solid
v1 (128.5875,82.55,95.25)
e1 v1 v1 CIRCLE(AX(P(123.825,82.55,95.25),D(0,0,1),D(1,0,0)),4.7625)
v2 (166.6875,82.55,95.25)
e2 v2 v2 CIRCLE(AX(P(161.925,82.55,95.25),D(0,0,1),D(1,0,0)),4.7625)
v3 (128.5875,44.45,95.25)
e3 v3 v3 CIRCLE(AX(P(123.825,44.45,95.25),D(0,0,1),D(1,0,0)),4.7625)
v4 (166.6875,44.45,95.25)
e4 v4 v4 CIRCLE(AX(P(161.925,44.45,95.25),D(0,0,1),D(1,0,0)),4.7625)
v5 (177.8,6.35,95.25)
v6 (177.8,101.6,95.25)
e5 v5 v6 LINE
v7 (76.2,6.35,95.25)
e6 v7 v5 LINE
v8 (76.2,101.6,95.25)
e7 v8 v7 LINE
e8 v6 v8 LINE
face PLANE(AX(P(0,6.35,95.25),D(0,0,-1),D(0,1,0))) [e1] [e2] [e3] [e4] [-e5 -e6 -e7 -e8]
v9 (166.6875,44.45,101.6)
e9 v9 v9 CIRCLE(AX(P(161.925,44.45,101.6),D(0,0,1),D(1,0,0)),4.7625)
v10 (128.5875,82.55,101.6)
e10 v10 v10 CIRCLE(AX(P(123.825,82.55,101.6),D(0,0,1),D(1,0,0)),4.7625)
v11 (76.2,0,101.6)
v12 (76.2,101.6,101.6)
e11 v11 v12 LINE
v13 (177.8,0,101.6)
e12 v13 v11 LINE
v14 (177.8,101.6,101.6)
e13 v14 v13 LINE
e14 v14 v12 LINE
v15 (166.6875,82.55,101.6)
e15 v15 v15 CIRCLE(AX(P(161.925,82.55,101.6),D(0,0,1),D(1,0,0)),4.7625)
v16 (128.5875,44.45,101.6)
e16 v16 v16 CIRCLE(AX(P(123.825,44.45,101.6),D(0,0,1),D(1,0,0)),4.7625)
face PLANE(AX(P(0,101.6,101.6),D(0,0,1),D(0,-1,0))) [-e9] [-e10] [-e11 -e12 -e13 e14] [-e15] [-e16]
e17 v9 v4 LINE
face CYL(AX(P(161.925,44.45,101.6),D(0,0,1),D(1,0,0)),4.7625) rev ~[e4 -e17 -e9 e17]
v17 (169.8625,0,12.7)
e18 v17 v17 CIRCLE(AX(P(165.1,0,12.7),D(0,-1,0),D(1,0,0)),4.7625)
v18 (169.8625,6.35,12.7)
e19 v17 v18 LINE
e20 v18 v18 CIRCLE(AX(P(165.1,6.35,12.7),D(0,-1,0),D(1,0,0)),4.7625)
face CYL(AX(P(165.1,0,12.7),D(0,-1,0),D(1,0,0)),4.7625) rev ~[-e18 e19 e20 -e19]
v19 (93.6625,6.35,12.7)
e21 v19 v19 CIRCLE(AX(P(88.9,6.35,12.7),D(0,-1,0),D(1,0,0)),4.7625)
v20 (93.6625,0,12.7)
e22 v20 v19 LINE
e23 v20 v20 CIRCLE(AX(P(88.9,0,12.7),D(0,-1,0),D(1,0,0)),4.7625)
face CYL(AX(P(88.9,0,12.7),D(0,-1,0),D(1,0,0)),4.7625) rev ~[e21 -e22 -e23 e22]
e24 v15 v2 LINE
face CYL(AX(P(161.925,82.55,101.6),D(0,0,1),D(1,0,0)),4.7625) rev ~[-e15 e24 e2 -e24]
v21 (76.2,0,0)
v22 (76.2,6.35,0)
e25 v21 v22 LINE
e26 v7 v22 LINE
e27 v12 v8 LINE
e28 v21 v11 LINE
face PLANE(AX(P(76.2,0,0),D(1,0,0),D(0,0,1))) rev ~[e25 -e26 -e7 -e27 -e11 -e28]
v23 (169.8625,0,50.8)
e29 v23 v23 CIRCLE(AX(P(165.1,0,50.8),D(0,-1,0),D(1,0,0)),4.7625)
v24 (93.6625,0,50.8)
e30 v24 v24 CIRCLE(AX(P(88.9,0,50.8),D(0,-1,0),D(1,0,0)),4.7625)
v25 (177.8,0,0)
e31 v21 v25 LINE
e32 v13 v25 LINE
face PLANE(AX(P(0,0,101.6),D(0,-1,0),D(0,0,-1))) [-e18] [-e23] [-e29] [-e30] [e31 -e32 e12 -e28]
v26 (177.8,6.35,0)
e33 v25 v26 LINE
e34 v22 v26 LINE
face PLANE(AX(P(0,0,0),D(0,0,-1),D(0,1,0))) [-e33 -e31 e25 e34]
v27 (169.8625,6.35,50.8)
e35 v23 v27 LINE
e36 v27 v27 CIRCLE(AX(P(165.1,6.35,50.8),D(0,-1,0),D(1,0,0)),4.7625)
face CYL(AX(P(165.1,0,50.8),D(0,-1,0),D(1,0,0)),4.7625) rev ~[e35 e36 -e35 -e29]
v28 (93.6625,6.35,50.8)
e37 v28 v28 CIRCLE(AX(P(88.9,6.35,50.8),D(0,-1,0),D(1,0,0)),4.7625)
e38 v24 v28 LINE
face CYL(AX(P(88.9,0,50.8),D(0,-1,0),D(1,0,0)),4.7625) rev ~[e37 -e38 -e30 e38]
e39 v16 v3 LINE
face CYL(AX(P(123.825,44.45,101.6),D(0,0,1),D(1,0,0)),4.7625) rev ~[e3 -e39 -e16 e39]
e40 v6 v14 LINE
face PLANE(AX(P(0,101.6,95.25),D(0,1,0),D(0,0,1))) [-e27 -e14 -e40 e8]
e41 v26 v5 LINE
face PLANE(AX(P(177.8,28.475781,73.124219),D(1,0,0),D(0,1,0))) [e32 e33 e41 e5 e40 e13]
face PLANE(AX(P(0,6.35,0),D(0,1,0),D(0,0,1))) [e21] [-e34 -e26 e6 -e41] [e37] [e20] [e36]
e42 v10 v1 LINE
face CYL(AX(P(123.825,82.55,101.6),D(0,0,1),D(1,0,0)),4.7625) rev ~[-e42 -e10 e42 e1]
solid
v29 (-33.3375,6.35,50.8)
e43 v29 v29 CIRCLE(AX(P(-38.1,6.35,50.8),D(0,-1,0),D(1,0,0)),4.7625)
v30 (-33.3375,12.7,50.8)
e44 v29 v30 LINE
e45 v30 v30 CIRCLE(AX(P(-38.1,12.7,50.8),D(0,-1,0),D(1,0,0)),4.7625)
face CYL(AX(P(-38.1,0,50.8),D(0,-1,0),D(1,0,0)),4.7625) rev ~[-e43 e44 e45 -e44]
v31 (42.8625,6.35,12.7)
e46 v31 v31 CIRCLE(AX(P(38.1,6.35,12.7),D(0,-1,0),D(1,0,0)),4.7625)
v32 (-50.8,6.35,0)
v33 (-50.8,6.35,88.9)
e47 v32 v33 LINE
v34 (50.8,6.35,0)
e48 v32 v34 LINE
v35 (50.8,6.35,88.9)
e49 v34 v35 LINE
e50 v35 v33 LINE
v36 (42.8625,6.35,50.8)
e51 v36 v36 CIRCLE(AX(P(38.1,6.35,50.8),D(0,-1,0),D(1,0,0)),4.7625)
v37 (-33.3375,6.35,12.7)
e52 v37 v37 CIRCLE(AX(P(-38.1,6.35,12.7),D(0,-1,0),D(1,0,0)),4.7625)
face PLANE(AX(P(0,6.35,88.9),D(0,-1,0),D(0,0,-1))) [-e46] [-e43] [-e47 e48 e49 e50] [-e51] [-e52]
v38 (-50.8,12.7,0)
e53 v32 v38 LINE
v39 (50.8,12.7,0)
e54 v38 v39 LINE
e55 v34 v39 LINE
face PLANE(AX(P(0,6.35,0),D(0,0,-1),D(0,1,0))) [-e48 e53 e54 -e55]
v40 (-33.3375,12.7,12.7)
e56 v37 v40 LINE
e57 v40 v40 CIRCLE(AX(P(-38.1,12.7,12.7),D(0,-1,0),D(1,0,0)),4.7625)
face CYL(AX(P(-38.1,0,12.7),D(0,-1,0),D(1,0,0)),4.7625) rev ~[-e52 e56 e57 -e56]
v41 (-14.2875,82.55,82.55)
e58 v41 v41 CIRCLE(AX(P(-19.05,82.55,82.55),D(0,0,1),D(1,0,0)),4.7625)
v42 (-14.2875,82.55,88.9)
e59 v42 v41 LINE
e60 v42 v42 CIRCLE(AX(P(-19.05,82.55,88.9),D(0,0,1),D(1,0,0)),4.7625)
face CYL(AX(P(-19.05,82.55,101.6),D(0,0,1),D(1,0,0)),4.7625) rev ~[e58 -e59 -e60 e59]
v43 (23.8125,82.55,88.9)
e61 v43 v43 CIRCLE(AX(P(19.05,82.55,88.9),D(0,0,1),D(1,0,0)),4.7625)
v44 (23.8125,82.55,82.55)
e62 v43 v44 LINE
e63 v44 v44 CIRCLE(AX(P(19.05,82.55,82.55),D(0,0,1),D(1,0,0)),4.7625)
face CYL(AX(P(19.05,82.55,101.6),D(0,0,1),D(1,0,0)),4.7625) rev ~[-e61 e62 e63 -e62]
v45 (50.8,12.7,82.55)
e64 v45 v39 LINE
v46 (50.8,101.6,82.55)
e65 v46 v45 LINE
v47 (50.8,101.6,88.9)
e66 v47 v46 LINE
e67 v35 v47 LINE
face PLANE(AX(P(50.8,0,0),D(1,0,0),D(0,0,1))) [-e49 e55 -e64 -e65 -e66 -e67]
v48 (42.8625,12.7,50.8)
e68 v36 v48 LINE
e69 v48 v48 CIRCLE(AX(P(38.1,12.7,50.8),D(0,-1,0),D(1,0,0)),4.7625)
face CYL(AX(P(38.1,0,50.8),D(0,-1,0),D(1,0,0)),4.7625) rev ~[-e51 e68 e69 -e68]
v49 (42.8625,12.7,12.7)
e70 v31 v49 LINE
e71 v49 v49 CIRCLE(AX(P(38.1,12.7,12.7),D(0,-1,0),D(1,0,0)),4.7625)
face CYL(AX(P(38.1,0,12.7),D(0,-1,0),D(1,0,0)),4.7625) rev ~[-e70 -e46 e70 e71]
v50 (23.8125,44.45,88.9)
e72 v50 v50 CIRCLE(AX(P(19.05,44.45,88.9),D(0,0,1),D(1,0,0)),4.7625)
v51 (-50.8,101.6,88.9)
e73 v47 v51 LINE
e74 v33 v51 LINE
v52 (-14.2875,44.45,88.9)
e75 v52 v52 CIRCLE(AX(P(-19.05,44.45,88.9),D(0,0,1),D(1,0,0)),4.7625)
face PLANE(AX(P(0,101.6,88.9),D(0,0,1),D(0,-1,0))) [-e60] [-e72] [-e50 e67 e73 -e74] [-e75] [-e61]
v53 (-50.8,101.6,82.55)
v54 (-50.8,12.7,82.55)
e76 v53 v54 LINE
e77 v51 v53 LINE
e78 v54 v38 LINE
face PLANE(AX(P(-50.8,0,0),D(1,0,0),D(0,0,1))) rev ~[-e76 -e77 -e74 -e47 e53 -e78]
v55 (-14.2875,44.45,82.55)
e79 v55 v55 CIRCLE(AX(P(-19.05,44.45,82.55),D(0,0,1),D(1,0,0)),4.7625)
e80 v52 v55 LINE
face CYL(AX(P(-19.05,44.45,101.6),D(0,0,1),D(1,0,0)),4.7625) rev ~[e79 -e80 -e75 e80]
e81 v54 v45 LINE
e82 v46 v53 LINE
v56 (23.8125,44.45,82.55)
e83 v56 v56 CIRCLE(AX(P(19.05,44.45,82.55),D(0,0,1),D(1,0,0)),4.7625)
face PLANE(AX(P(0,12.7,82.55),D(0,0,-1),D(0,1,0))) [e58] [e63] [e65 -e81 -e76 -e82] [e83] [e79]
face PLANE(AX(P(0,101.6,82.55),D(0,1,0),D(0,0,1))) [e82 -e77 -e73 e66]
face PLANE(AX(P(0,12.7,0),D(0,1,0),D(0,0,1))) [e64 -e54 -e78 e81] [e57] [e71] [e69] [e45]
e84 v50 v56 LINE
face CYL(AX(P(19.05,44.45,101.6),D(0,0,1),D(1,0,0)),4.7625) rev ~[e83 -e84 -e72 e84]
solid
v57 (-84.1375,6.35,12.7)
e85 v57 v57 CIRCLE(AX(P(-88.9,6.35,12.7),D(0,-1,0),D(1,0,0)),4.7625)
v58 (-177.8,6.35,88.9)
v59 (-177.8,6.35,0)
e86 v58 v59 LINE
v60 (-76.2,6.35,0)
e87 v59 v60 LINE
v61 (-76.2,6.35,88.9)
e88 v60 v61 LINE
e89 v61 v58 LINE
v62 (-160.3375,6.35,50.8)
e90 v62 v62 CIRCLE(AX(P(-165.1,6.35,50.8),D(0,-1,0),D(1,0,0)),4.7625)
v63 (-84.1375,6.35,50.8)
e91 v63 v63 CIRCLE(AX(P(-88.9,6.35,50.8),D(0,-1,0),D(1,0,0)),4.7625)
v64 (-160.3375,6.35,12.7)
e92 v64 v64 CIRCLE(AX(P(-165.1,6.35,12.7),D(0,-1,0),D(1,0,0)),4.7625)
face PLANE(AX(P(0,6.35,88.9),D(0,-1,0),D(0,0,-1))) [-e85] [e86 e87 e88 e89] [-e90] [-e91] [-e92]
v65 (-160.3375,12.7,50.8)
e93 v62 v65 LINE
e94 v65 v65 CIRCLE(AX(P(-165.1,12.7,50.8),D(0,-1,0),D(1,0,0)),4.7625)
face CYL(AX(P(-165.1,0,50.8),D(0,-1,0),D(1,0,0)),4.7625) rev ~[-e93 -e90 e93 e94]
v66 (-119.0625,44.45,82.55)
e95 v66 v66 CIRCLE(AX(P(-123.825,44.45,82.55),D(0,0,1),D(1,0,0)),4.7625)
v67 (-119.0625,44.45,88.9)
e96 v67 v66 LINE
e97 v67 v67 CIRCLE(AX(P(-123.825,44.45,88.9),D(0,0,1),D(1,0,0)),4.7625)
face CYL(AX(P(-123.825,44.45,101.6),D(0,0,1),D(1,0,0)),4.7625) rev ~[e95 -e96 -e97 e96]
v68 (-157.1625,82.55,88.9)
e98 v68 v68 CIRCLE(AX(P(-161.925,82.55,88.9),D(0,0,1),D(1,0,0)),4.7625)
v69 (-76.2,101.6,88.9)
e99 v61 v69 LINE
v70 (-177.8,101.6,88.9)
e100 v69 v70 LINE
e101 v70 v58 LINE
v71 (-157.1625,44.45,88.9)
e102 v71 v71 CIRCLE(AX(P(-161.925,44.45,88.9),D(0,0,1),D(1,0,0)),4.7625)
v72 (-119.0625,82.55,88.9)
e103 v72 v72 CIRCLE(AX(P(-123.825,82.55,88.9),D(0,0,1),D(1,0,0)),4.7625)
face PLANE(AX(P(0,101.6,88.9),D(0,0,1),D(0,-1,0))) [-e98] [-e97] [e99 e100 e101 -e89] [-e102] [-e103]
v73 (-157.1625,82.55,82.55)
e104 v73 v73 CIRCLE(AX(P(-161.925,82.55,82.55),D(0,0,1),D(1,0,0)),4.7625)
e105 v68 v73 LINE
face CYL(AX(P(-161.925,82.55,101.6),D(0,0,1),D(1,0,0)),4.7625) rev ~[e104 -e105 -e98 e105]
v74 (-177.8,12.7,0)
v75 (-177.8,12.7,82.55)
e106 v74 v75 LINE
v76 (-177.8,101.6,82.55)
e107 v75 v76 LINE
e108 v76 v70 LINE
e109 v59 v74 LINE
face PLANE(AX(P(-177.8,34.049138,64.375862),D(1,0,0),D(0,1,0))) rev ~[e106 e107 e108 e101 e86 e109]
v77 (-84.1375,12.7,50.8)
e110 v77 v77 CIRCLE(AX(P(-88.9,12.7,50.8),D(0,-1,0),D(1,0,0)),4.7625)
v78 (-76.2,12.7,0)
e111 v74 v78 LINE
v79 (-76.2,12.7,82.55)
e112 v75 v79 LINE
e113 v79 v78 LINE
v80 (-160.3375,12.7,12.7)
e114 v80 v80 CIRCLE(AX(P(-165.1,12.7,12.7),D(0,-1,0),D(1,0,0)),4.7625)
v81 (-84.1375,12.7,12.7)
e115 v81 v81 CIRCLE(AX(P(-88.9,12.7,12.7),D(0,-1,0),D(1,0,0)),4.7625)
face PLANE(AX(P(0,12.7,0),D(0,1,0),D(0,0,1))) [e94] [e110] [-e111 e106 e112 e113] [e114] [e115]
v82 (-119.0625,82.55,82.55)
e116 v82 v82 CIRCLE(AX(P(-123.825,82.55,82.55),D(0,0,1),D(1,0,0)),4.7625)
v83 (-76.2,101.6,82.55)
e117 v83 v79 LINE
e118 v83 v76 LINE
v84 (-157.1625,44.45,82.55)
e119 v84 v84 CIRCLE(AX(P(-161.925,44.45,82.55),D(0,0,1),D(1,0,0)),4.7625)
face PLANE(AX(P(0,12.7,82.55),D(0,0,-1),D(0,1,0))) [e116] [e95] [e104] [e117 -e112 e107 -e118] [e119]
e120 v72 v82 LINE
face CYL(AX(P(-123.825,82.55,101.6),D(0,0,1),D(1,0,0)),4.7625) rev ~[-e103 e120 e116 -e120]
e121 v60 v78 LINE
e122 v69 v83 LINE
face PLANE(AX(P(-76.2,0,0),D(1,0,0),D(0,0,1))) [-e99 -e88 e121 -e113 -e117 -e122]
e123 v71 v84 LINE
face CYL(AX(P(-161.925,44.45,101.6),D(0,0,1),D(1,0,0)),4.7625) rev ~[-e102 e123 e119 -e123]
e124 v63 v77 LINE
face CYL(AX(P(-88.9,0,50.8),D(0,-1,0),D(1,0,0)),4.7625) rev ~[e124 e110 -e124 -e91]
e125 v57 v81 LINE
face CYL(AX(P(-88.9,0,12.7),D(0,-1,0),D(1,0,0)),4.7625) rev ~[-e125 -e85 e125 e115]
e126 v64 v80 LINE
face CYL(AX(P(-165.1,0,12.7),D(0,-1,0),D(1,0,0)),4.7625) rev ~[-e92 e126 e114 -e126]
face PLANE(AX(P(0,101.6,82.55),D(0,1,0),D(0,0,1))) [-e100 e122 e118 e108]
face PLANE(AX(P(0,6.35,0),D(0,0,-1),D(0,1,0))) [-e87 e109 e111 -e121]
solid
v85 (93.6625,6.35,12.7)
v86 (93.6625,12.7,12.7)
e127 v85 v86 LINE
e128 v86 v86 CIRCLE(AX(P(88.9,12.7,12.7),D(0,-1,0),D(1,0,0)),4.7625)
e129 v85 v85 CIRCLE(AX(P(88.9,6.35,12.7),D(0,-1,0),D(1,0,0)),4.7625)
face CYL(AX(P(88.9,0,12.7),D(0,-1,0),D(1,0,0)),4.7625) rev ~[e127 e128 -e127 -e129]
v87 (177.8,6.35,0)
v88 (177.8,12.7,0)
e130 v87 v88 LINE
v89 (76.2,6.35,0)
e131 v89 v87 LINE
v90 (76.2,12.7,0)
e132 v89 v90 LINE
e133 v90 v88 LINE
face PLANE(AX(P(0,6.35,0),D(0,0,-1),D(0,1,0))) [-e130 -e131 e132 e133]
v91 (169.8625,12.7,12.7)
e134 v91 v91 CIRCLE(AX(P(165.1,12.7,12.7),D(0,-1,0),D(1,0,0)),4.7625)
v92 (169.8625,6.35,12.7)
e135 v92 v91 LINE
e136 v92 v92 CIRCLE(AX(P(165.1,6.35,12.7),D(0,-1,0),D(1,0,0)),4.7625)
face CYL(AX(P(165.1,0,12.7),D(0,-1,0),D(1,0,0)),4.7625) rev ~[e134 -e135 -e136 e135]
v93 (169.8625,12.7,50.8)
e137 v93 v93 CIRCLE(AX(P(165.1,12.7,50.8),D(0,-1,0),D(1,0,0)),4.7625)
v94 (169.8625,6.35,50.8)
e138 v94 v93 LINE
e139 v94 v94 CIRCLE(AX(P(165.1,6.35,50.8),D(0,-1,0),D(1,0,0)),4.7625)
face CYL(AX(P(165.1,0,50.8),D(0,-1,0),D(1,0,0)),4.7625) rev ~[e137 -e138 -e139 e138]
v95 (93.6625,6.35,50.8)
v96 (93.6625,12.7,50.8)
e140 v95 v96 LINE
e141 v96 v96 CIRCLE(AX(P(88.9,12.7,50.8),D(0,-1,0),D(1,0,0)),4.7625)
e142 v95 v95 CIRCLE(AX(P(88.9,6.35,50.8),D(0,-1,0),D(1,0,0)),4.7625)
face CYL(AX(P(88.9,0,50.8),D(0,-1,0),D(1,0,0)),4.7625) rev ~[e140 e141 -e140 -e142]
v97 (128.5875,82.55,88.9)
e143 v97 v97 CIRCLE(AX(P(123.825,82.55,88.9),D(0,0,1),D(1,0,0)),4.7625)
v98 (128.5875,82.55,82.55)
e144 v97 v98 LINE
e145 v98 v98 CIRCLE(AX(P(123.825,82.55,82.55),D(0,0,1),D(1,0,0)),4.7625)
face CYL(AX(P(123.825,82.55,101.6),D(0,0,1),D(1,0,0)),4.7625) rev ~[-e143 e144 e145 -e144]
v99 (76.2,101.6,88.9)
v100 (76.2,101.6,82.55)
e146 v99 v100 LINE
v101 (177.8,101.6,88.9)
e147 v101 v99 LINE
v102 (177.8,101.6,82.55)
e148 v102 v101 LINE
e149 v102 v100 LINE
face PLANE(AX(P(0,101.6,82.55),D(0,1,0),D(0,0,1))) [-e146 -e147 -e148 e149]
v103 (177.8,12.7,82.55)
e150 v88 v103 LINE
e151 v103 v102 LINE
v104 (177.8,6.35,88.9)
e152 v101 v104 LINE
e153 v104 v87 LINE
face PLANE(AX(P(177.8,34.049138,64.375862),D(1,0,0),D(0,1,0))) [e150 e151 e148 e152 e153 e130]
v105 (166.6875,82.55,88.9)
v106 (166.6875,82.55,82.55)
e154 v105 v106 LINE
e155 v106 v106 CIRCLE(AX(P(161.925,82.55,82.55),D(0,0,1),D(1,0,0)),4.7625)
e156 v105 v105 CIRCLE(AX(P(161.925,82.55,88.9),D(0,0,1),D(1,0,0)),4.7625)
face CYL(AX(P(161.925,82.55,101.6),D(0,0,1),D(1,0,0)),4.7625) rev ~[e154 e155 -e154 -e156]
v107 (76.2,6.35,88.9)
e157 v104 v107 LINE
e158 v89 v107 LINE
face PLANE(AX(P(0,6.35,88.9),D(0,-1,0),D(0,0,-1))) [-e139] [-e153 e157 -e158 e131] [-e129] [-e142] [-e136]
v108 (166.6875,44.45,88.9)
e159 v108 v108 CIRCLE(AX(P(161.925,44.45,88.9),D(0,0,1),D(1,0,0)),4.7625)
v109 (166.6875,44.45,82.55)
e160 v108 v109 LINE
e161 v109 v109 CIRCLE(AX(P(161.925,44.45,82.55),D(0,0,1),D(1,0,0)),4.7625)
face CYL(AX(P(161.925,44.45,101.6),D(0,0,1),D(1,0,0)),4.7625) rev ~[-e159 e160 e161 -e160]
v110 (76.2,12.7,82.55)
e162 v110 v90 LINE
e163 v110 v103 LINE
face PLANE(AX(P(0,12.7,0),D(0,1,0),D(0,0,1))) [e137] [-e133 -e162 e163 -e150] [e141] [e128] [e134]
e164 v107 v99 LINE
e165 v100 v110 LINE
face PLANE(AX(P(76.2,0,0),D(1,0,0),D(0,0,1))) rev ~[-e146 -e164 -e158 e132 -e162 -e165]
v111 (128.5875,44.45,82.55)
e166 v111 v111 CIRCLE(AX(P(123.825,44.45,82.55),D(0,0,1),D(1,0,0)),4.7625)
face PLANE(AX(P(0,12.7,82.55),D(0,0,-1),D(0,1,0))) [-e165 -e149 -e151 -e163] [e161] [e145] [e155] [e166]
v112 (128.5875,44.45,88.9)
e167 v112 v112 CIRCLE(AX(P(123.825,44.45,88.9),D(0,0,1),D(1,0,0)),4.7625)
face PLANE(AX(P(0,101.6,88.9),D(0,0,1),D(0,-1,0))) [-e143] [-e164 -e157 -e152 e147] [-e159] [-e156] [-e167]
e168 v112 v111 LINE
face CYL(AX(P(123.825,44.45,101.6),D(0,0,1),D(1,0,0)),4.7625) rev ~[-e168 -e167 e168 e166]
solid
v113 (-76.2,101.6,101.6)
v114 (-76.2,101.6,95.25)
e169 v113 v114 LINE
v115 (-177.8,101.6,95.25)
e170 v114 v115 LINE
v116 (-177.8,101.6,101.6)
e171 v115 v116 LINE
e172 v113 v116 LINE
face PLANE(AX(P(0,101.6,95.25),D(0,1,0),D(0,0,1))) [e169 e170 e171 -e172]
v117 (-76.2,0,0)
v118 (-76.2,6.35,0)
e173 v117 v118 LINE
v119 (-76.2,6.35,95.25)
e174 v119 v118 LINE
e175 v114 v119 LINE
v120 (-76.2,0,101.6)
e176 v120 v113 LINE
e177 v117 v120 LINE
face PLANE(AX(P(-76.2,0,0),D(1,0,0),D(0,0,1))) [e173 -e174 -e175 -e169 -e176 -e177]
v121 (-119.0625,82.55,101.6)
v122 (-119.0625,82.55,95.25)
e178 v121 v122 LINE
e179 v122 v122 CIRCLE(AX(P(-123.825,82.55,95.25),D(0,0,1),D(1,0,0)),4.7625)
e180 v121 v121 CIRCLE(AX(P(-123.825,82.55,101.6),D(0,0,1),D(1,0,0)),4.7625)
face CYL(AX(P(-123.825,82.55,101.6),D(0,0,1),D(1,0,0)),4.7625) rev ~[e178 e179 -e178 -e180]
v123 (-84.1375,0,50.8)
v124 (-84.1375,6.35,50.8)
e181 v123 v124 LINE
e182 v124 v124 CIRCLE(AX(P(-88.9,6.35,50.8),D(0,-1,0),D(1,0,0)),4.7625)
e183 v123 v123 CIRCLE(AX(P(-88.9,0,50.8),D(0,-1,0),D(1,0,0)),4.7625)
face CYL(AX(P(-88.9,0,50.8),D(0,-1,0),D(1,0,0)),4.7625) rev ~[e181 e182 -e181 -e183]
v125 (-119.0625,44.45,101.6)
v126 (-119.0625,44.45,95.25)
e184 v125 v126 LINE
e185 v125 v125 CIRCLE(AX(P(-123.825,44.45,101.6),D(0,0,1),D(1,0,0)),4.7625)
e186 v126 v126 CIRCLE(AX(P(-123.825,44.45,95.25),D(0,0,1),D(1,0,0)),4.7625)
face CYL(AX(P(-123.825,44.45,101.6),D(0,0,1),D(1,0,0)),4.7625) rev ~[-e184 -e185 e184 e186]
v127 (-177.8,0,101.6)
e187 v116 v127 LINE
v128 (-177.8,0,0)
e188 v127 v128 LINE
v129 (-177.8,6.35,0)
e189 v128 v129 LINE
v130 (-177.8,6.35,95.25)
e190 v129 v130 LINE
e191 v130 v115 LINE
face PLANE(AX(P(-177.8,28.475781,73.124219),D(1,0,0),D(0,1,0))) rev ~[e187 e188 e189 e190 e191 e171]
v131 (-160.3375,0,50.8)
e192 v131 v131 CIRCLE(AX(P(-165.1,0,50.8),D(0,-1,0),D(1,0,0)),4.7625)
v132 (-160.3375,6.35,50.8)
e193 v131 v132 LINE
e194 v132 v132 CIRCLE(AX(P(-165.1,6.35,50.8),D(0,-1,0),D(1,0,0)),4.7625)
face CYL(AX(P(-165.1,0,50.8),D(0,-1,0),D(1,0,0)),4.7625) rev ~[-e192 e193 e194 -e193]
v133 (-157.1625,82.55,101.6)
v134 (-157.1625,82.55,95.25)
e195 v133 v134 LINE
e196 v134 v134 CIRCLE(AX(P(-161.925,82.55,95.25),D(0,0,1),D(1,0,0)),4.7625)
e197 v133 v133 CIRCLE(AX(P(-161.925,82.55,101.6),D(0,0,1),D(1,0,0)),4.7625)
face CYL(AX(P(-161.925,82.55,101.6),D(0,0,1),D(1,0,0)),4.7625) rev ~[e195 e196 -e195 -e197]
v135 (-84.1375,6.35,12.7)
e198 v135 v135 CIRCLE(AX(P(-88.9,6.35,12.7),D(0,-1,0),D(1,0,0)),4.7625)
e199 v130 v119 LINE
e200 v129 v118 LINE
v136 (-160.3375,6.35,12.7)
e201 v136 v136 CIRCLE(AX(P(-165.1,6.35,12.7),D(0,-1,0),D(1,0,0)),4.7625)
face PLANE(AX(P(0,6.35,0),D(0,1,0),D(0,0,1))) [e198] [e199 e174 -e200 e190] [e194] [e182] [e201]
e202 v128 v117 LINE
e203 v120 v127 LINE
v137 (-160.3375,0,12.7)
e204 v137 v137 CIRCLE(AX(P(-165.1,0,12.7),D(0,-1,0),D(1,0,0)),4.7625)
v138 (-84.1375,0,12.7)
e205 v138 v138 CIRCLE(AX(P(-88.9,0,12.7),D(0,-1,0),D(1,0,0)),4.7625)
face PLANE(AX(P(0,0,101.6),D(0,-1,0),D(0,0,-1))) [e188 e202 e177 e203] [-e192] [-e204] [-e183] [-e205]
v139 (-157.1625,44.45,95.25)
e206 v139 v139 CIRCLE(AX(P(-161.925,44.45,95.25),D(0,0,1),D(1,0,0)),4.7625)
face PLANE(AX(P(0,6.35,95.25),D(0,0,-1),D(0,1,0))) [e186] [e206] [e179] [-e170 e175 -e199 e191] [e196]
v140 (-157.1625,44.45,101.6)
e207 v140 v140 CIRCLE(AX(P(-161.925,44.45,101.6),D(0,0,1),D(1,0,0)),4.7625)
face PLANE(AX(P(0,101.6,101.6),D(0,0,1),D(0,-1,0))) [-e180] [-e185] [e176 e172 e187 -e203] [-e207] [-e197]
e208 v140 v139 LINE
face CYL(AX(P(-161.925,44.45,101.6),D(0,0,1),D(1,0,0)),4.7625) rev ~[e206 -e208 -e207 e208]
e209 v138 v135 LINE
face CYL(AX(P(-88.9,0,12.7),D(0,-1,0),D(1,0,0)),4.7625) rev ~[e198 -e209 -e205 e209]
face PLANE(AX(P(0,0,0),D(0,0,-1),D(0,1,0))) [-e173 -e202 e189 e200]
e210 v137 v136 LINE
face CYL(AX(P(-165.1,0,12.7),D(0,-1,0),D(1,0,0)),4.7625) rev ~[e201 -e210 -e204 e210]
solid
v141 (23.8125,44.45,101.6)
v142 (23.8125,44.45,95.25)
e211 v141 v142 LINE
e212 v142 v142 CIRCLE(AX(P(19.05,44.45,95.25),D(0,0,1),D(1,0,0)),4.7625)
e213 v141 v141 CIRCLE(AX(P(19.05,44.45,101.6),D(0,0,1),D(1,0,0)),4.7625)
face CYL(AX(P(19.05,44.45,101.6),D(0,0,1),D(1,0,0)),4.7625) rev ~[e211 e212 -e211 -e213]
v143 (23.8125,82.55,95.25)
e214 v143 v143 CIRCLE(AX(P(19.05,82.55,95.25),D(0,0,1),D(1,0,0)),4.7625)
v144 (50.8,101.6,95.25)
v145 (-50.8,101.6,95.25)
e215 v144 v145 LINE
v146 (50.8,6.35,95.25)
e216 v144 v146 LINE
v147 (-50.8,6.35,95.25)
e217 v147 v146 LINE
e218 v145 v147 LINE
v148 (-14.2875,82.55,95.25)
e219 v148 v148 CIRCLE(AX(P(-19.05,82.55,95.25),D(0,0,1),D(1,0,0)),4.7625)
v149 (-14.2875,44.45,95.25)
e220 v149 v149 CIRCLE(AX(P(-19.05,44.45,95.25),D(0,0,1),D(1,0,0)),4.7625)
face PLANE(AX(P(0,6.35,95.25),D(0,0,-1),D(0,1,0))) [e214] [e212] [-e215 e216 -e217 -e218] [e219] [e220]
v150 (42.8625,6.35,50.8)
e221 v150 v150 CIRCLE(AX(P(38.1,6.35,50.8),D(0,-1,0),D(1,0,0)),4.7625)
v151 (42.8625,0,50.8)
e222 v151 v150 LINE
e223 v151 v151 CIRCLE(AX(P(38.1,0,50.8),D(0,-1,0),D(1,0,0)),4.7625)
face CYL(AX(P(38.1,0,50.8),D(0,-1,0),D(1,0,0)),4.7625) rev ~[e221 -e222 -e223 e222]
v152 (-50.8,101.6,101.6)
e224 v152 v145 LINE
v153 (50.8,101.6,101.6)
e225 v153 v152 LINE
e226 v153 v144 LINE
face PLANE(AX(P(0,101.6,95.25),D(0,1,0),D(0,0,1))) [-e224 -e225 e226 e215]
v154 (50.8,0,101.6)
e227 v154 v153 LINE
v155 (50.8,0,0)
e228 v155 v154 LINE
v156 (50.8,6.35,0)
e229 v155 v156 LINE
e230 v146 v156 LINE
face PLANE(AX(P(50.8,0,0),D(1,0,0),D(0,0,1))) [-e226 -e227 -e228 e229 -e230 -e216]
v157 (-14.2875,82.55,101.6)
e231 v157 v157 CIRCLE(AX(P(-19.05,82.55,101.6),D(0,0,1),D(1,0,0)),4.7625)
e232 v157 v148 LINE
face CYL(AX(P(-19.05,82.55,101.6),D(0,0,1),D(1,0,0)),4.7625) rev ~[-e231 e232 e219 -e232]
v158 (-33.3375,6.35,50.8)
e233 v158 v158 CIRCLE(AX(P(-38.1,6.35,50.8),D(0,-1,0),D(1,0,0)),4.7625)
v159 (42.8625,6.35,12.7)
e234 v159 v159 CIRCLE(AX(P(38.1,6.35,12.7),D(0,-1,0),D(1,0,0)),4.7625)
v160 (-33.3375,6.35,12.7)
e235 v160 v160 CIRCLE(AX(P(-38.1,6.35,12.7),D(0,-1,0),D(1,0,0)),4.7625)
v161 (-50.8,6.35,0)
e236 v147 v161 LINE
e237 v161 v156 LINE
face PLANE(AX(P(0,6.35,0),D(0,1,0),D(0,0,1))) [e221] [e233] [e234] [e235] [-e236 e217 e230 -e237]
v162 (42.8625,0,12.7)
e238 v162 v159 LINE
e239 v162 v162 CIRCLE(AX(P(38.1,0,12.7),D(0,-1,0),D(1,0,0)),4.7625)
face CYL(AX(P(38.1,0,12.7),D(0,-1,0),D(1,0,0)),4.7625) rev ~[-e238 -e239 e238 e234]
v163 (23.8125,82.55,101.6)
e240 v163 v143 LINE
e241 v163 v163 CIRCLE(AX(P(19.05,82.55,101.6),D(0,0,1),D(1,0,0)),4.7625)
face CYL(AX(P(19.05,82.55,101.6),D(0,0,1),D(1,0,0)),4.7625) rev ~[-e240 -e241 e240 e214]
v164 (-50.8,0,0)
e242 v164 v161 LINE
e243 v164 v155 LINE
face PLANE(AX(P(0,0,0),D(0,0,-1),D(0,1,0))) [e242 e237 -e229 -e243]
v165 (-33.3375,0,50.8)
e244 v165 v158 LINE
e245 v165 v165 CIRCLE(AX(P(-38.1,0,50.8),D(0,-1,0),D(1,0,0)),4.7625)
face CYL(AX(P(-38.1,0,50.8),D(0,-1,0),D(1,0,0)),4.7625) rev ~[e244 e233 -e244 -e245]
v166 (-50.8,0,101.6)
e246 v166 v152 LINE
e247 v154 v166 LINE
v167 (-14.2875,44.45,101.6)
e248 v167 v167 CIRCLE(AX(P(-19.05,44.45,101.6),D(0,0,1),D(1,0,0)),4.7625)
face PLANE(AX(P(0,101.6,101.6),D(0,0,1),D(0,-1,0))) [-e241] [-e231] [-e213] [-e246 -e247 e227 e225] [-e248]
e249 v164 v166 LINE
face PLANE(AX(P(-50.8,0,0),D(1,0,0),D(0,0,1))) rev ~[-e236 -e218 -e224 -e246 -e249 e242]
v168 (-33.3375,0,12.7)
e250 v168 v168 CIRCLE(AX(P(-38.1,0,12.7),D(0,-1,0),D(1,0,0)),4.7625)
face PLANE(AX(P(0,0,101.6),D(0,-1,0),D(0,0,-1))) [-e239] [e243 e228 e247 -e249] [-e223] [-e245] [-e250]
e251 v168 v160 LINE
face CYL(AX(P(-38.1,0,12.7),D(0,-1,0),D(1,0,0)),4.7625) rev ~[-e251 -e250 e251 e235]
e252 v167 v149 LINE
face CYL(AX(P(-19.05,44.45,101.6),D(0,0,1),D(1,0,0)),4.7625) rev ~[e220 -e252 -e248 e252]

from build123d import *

# Parameters (mm, degrees)
F1_DEPTH = 177.8
F3_DEPTH = 177.8
F4_W     = 25.4
F4_H     = 101.6
F4_R     = 4.7625
F5_DEPTH = 101.601
F6_R     = 4.7625
F7_DEPTH = 101.601


with BuildPart() as f1:
    # F0 (on Right) → F1 (new body, symmetric)
    with BuildSketch(Plane.YZ):
        Polygon((0, 101.6), (0, 0), (6.35, 0), (6.35, 95.25), (101.6, 95.25), (101.6, 101.6), align=None)
    extrude(amount=F1_DEPTH, both=True)


with BuildPart() as f3:
    # F2 (on Right) → F3 (new body, symmetric)
    with BuildSketch(Plane.YZ):
        Polygon((6.35, 88.9), (6.35, 0), (12.7, 0), (12.7, 82.55), (101.6, 82.55), (101.6, 88.9), align=None)
    extrude(amount=F3_DEPTH, both=True)


with BuildPart() as f5_tool:
    # F4 (on face) → F5 (new body, through all)
    with BuildSketch(Plane.XZ):
        with Locations((-63.5, 50.8)):
            Rectangle(F4_W, F4_H)
        with Locations((63.5, 50.8)):
            Rectangle(F4_W, F4_H)
        with Locations((-165.1, 12.7)):
            Circle(F4_R)
        with Locations((-165.1, 50.8)):
            Circle(F4_R)
        with Locations((-88.9, 50.8)):
            Circle(F4_R)
        with Locations((-88.9, 12.7)):
            Circle(F4_R)
        with Locations((-38.1, 50.8)):
            Circle(F4_R)
        with Locations((-38.1, 12.7)):
            Circle(F4_R)
        with Locations((38.1, 50.8)):
            Circle(F4_R)
        with Locations((38.1, 12.7)):
            Circle(F4_R)
        with Locations((88.9, 50.8)):
            Circle(F4_R)
        with Locations((88.9, 12.7)):
            Circle(F4_R)
        with Locations((165.1, 50.8)):
            Circle(F4_R)
        with Locations((165.1, 12.7)):
            Circle(F4_R)
    extrude(amount=-F5_DEPTH)


with BuildPart() as f1_1:
    add(f1.part)

    # F5: cut by f5_tool
    add(f5_tool.part, mode=Mode.SUBTRACT)


with BuildPart() as f3_1:
    add(f3.part)

    # F5: cut by f5_tool
    add(f5_tool.part, mode=Mode.SUBTRACT)


with BuildPart() as f7_tool:
    # F6 (on face) → F7 (new body, through all)
    with BuildSketch(Plane.XY.offset(101.6)):
        with Locations((-161.925, 82.55)):
            Circle(F6_R)
        with Locations((-123.825, 82.55)):
            Circle(F6_R)
        with Locations((-123.825, 44.45)):
            Circle(F6_R)
        with Locations((-161.925, 44.45)):
            Circle(F6_R)
        with Locations((-19.05, 82.55)):
            Circle(F6_R)
        with Locations((19.05, 44.45)):
            Circle(F6_R)
        with Locations((19.05, 82.55)):
            Circle(F6_R)
        with Locations((-19.05, 44.45)):
            Circle(F6_R)
        with Locations((123.825, 82.55)):
            Circle(F6_R)
        with Locations((161.925, 44.45)):
            Circle(F6_R)
        with Locations((161.925, 82.55)):
            Circle(F6_R)
        with Locations((123.825, 44.45)):
            Circle(F6_R)
    extrude(amount=-F7_DEPTH)


with BuildPart() as f1_2:
    add(f1_1.part)

    # F7: cut by f7_tool
    add(f7_tool.part, mode=Mode.SUBTRACT)


with BuildPart() as f3_2:
    add(f3_1.part)

    # F7: cut by f7_tool
    add(f7_tool.part, mode=Mode.SUBTRACT)


solid = Compound([f1_2.part, f3_2.part])
